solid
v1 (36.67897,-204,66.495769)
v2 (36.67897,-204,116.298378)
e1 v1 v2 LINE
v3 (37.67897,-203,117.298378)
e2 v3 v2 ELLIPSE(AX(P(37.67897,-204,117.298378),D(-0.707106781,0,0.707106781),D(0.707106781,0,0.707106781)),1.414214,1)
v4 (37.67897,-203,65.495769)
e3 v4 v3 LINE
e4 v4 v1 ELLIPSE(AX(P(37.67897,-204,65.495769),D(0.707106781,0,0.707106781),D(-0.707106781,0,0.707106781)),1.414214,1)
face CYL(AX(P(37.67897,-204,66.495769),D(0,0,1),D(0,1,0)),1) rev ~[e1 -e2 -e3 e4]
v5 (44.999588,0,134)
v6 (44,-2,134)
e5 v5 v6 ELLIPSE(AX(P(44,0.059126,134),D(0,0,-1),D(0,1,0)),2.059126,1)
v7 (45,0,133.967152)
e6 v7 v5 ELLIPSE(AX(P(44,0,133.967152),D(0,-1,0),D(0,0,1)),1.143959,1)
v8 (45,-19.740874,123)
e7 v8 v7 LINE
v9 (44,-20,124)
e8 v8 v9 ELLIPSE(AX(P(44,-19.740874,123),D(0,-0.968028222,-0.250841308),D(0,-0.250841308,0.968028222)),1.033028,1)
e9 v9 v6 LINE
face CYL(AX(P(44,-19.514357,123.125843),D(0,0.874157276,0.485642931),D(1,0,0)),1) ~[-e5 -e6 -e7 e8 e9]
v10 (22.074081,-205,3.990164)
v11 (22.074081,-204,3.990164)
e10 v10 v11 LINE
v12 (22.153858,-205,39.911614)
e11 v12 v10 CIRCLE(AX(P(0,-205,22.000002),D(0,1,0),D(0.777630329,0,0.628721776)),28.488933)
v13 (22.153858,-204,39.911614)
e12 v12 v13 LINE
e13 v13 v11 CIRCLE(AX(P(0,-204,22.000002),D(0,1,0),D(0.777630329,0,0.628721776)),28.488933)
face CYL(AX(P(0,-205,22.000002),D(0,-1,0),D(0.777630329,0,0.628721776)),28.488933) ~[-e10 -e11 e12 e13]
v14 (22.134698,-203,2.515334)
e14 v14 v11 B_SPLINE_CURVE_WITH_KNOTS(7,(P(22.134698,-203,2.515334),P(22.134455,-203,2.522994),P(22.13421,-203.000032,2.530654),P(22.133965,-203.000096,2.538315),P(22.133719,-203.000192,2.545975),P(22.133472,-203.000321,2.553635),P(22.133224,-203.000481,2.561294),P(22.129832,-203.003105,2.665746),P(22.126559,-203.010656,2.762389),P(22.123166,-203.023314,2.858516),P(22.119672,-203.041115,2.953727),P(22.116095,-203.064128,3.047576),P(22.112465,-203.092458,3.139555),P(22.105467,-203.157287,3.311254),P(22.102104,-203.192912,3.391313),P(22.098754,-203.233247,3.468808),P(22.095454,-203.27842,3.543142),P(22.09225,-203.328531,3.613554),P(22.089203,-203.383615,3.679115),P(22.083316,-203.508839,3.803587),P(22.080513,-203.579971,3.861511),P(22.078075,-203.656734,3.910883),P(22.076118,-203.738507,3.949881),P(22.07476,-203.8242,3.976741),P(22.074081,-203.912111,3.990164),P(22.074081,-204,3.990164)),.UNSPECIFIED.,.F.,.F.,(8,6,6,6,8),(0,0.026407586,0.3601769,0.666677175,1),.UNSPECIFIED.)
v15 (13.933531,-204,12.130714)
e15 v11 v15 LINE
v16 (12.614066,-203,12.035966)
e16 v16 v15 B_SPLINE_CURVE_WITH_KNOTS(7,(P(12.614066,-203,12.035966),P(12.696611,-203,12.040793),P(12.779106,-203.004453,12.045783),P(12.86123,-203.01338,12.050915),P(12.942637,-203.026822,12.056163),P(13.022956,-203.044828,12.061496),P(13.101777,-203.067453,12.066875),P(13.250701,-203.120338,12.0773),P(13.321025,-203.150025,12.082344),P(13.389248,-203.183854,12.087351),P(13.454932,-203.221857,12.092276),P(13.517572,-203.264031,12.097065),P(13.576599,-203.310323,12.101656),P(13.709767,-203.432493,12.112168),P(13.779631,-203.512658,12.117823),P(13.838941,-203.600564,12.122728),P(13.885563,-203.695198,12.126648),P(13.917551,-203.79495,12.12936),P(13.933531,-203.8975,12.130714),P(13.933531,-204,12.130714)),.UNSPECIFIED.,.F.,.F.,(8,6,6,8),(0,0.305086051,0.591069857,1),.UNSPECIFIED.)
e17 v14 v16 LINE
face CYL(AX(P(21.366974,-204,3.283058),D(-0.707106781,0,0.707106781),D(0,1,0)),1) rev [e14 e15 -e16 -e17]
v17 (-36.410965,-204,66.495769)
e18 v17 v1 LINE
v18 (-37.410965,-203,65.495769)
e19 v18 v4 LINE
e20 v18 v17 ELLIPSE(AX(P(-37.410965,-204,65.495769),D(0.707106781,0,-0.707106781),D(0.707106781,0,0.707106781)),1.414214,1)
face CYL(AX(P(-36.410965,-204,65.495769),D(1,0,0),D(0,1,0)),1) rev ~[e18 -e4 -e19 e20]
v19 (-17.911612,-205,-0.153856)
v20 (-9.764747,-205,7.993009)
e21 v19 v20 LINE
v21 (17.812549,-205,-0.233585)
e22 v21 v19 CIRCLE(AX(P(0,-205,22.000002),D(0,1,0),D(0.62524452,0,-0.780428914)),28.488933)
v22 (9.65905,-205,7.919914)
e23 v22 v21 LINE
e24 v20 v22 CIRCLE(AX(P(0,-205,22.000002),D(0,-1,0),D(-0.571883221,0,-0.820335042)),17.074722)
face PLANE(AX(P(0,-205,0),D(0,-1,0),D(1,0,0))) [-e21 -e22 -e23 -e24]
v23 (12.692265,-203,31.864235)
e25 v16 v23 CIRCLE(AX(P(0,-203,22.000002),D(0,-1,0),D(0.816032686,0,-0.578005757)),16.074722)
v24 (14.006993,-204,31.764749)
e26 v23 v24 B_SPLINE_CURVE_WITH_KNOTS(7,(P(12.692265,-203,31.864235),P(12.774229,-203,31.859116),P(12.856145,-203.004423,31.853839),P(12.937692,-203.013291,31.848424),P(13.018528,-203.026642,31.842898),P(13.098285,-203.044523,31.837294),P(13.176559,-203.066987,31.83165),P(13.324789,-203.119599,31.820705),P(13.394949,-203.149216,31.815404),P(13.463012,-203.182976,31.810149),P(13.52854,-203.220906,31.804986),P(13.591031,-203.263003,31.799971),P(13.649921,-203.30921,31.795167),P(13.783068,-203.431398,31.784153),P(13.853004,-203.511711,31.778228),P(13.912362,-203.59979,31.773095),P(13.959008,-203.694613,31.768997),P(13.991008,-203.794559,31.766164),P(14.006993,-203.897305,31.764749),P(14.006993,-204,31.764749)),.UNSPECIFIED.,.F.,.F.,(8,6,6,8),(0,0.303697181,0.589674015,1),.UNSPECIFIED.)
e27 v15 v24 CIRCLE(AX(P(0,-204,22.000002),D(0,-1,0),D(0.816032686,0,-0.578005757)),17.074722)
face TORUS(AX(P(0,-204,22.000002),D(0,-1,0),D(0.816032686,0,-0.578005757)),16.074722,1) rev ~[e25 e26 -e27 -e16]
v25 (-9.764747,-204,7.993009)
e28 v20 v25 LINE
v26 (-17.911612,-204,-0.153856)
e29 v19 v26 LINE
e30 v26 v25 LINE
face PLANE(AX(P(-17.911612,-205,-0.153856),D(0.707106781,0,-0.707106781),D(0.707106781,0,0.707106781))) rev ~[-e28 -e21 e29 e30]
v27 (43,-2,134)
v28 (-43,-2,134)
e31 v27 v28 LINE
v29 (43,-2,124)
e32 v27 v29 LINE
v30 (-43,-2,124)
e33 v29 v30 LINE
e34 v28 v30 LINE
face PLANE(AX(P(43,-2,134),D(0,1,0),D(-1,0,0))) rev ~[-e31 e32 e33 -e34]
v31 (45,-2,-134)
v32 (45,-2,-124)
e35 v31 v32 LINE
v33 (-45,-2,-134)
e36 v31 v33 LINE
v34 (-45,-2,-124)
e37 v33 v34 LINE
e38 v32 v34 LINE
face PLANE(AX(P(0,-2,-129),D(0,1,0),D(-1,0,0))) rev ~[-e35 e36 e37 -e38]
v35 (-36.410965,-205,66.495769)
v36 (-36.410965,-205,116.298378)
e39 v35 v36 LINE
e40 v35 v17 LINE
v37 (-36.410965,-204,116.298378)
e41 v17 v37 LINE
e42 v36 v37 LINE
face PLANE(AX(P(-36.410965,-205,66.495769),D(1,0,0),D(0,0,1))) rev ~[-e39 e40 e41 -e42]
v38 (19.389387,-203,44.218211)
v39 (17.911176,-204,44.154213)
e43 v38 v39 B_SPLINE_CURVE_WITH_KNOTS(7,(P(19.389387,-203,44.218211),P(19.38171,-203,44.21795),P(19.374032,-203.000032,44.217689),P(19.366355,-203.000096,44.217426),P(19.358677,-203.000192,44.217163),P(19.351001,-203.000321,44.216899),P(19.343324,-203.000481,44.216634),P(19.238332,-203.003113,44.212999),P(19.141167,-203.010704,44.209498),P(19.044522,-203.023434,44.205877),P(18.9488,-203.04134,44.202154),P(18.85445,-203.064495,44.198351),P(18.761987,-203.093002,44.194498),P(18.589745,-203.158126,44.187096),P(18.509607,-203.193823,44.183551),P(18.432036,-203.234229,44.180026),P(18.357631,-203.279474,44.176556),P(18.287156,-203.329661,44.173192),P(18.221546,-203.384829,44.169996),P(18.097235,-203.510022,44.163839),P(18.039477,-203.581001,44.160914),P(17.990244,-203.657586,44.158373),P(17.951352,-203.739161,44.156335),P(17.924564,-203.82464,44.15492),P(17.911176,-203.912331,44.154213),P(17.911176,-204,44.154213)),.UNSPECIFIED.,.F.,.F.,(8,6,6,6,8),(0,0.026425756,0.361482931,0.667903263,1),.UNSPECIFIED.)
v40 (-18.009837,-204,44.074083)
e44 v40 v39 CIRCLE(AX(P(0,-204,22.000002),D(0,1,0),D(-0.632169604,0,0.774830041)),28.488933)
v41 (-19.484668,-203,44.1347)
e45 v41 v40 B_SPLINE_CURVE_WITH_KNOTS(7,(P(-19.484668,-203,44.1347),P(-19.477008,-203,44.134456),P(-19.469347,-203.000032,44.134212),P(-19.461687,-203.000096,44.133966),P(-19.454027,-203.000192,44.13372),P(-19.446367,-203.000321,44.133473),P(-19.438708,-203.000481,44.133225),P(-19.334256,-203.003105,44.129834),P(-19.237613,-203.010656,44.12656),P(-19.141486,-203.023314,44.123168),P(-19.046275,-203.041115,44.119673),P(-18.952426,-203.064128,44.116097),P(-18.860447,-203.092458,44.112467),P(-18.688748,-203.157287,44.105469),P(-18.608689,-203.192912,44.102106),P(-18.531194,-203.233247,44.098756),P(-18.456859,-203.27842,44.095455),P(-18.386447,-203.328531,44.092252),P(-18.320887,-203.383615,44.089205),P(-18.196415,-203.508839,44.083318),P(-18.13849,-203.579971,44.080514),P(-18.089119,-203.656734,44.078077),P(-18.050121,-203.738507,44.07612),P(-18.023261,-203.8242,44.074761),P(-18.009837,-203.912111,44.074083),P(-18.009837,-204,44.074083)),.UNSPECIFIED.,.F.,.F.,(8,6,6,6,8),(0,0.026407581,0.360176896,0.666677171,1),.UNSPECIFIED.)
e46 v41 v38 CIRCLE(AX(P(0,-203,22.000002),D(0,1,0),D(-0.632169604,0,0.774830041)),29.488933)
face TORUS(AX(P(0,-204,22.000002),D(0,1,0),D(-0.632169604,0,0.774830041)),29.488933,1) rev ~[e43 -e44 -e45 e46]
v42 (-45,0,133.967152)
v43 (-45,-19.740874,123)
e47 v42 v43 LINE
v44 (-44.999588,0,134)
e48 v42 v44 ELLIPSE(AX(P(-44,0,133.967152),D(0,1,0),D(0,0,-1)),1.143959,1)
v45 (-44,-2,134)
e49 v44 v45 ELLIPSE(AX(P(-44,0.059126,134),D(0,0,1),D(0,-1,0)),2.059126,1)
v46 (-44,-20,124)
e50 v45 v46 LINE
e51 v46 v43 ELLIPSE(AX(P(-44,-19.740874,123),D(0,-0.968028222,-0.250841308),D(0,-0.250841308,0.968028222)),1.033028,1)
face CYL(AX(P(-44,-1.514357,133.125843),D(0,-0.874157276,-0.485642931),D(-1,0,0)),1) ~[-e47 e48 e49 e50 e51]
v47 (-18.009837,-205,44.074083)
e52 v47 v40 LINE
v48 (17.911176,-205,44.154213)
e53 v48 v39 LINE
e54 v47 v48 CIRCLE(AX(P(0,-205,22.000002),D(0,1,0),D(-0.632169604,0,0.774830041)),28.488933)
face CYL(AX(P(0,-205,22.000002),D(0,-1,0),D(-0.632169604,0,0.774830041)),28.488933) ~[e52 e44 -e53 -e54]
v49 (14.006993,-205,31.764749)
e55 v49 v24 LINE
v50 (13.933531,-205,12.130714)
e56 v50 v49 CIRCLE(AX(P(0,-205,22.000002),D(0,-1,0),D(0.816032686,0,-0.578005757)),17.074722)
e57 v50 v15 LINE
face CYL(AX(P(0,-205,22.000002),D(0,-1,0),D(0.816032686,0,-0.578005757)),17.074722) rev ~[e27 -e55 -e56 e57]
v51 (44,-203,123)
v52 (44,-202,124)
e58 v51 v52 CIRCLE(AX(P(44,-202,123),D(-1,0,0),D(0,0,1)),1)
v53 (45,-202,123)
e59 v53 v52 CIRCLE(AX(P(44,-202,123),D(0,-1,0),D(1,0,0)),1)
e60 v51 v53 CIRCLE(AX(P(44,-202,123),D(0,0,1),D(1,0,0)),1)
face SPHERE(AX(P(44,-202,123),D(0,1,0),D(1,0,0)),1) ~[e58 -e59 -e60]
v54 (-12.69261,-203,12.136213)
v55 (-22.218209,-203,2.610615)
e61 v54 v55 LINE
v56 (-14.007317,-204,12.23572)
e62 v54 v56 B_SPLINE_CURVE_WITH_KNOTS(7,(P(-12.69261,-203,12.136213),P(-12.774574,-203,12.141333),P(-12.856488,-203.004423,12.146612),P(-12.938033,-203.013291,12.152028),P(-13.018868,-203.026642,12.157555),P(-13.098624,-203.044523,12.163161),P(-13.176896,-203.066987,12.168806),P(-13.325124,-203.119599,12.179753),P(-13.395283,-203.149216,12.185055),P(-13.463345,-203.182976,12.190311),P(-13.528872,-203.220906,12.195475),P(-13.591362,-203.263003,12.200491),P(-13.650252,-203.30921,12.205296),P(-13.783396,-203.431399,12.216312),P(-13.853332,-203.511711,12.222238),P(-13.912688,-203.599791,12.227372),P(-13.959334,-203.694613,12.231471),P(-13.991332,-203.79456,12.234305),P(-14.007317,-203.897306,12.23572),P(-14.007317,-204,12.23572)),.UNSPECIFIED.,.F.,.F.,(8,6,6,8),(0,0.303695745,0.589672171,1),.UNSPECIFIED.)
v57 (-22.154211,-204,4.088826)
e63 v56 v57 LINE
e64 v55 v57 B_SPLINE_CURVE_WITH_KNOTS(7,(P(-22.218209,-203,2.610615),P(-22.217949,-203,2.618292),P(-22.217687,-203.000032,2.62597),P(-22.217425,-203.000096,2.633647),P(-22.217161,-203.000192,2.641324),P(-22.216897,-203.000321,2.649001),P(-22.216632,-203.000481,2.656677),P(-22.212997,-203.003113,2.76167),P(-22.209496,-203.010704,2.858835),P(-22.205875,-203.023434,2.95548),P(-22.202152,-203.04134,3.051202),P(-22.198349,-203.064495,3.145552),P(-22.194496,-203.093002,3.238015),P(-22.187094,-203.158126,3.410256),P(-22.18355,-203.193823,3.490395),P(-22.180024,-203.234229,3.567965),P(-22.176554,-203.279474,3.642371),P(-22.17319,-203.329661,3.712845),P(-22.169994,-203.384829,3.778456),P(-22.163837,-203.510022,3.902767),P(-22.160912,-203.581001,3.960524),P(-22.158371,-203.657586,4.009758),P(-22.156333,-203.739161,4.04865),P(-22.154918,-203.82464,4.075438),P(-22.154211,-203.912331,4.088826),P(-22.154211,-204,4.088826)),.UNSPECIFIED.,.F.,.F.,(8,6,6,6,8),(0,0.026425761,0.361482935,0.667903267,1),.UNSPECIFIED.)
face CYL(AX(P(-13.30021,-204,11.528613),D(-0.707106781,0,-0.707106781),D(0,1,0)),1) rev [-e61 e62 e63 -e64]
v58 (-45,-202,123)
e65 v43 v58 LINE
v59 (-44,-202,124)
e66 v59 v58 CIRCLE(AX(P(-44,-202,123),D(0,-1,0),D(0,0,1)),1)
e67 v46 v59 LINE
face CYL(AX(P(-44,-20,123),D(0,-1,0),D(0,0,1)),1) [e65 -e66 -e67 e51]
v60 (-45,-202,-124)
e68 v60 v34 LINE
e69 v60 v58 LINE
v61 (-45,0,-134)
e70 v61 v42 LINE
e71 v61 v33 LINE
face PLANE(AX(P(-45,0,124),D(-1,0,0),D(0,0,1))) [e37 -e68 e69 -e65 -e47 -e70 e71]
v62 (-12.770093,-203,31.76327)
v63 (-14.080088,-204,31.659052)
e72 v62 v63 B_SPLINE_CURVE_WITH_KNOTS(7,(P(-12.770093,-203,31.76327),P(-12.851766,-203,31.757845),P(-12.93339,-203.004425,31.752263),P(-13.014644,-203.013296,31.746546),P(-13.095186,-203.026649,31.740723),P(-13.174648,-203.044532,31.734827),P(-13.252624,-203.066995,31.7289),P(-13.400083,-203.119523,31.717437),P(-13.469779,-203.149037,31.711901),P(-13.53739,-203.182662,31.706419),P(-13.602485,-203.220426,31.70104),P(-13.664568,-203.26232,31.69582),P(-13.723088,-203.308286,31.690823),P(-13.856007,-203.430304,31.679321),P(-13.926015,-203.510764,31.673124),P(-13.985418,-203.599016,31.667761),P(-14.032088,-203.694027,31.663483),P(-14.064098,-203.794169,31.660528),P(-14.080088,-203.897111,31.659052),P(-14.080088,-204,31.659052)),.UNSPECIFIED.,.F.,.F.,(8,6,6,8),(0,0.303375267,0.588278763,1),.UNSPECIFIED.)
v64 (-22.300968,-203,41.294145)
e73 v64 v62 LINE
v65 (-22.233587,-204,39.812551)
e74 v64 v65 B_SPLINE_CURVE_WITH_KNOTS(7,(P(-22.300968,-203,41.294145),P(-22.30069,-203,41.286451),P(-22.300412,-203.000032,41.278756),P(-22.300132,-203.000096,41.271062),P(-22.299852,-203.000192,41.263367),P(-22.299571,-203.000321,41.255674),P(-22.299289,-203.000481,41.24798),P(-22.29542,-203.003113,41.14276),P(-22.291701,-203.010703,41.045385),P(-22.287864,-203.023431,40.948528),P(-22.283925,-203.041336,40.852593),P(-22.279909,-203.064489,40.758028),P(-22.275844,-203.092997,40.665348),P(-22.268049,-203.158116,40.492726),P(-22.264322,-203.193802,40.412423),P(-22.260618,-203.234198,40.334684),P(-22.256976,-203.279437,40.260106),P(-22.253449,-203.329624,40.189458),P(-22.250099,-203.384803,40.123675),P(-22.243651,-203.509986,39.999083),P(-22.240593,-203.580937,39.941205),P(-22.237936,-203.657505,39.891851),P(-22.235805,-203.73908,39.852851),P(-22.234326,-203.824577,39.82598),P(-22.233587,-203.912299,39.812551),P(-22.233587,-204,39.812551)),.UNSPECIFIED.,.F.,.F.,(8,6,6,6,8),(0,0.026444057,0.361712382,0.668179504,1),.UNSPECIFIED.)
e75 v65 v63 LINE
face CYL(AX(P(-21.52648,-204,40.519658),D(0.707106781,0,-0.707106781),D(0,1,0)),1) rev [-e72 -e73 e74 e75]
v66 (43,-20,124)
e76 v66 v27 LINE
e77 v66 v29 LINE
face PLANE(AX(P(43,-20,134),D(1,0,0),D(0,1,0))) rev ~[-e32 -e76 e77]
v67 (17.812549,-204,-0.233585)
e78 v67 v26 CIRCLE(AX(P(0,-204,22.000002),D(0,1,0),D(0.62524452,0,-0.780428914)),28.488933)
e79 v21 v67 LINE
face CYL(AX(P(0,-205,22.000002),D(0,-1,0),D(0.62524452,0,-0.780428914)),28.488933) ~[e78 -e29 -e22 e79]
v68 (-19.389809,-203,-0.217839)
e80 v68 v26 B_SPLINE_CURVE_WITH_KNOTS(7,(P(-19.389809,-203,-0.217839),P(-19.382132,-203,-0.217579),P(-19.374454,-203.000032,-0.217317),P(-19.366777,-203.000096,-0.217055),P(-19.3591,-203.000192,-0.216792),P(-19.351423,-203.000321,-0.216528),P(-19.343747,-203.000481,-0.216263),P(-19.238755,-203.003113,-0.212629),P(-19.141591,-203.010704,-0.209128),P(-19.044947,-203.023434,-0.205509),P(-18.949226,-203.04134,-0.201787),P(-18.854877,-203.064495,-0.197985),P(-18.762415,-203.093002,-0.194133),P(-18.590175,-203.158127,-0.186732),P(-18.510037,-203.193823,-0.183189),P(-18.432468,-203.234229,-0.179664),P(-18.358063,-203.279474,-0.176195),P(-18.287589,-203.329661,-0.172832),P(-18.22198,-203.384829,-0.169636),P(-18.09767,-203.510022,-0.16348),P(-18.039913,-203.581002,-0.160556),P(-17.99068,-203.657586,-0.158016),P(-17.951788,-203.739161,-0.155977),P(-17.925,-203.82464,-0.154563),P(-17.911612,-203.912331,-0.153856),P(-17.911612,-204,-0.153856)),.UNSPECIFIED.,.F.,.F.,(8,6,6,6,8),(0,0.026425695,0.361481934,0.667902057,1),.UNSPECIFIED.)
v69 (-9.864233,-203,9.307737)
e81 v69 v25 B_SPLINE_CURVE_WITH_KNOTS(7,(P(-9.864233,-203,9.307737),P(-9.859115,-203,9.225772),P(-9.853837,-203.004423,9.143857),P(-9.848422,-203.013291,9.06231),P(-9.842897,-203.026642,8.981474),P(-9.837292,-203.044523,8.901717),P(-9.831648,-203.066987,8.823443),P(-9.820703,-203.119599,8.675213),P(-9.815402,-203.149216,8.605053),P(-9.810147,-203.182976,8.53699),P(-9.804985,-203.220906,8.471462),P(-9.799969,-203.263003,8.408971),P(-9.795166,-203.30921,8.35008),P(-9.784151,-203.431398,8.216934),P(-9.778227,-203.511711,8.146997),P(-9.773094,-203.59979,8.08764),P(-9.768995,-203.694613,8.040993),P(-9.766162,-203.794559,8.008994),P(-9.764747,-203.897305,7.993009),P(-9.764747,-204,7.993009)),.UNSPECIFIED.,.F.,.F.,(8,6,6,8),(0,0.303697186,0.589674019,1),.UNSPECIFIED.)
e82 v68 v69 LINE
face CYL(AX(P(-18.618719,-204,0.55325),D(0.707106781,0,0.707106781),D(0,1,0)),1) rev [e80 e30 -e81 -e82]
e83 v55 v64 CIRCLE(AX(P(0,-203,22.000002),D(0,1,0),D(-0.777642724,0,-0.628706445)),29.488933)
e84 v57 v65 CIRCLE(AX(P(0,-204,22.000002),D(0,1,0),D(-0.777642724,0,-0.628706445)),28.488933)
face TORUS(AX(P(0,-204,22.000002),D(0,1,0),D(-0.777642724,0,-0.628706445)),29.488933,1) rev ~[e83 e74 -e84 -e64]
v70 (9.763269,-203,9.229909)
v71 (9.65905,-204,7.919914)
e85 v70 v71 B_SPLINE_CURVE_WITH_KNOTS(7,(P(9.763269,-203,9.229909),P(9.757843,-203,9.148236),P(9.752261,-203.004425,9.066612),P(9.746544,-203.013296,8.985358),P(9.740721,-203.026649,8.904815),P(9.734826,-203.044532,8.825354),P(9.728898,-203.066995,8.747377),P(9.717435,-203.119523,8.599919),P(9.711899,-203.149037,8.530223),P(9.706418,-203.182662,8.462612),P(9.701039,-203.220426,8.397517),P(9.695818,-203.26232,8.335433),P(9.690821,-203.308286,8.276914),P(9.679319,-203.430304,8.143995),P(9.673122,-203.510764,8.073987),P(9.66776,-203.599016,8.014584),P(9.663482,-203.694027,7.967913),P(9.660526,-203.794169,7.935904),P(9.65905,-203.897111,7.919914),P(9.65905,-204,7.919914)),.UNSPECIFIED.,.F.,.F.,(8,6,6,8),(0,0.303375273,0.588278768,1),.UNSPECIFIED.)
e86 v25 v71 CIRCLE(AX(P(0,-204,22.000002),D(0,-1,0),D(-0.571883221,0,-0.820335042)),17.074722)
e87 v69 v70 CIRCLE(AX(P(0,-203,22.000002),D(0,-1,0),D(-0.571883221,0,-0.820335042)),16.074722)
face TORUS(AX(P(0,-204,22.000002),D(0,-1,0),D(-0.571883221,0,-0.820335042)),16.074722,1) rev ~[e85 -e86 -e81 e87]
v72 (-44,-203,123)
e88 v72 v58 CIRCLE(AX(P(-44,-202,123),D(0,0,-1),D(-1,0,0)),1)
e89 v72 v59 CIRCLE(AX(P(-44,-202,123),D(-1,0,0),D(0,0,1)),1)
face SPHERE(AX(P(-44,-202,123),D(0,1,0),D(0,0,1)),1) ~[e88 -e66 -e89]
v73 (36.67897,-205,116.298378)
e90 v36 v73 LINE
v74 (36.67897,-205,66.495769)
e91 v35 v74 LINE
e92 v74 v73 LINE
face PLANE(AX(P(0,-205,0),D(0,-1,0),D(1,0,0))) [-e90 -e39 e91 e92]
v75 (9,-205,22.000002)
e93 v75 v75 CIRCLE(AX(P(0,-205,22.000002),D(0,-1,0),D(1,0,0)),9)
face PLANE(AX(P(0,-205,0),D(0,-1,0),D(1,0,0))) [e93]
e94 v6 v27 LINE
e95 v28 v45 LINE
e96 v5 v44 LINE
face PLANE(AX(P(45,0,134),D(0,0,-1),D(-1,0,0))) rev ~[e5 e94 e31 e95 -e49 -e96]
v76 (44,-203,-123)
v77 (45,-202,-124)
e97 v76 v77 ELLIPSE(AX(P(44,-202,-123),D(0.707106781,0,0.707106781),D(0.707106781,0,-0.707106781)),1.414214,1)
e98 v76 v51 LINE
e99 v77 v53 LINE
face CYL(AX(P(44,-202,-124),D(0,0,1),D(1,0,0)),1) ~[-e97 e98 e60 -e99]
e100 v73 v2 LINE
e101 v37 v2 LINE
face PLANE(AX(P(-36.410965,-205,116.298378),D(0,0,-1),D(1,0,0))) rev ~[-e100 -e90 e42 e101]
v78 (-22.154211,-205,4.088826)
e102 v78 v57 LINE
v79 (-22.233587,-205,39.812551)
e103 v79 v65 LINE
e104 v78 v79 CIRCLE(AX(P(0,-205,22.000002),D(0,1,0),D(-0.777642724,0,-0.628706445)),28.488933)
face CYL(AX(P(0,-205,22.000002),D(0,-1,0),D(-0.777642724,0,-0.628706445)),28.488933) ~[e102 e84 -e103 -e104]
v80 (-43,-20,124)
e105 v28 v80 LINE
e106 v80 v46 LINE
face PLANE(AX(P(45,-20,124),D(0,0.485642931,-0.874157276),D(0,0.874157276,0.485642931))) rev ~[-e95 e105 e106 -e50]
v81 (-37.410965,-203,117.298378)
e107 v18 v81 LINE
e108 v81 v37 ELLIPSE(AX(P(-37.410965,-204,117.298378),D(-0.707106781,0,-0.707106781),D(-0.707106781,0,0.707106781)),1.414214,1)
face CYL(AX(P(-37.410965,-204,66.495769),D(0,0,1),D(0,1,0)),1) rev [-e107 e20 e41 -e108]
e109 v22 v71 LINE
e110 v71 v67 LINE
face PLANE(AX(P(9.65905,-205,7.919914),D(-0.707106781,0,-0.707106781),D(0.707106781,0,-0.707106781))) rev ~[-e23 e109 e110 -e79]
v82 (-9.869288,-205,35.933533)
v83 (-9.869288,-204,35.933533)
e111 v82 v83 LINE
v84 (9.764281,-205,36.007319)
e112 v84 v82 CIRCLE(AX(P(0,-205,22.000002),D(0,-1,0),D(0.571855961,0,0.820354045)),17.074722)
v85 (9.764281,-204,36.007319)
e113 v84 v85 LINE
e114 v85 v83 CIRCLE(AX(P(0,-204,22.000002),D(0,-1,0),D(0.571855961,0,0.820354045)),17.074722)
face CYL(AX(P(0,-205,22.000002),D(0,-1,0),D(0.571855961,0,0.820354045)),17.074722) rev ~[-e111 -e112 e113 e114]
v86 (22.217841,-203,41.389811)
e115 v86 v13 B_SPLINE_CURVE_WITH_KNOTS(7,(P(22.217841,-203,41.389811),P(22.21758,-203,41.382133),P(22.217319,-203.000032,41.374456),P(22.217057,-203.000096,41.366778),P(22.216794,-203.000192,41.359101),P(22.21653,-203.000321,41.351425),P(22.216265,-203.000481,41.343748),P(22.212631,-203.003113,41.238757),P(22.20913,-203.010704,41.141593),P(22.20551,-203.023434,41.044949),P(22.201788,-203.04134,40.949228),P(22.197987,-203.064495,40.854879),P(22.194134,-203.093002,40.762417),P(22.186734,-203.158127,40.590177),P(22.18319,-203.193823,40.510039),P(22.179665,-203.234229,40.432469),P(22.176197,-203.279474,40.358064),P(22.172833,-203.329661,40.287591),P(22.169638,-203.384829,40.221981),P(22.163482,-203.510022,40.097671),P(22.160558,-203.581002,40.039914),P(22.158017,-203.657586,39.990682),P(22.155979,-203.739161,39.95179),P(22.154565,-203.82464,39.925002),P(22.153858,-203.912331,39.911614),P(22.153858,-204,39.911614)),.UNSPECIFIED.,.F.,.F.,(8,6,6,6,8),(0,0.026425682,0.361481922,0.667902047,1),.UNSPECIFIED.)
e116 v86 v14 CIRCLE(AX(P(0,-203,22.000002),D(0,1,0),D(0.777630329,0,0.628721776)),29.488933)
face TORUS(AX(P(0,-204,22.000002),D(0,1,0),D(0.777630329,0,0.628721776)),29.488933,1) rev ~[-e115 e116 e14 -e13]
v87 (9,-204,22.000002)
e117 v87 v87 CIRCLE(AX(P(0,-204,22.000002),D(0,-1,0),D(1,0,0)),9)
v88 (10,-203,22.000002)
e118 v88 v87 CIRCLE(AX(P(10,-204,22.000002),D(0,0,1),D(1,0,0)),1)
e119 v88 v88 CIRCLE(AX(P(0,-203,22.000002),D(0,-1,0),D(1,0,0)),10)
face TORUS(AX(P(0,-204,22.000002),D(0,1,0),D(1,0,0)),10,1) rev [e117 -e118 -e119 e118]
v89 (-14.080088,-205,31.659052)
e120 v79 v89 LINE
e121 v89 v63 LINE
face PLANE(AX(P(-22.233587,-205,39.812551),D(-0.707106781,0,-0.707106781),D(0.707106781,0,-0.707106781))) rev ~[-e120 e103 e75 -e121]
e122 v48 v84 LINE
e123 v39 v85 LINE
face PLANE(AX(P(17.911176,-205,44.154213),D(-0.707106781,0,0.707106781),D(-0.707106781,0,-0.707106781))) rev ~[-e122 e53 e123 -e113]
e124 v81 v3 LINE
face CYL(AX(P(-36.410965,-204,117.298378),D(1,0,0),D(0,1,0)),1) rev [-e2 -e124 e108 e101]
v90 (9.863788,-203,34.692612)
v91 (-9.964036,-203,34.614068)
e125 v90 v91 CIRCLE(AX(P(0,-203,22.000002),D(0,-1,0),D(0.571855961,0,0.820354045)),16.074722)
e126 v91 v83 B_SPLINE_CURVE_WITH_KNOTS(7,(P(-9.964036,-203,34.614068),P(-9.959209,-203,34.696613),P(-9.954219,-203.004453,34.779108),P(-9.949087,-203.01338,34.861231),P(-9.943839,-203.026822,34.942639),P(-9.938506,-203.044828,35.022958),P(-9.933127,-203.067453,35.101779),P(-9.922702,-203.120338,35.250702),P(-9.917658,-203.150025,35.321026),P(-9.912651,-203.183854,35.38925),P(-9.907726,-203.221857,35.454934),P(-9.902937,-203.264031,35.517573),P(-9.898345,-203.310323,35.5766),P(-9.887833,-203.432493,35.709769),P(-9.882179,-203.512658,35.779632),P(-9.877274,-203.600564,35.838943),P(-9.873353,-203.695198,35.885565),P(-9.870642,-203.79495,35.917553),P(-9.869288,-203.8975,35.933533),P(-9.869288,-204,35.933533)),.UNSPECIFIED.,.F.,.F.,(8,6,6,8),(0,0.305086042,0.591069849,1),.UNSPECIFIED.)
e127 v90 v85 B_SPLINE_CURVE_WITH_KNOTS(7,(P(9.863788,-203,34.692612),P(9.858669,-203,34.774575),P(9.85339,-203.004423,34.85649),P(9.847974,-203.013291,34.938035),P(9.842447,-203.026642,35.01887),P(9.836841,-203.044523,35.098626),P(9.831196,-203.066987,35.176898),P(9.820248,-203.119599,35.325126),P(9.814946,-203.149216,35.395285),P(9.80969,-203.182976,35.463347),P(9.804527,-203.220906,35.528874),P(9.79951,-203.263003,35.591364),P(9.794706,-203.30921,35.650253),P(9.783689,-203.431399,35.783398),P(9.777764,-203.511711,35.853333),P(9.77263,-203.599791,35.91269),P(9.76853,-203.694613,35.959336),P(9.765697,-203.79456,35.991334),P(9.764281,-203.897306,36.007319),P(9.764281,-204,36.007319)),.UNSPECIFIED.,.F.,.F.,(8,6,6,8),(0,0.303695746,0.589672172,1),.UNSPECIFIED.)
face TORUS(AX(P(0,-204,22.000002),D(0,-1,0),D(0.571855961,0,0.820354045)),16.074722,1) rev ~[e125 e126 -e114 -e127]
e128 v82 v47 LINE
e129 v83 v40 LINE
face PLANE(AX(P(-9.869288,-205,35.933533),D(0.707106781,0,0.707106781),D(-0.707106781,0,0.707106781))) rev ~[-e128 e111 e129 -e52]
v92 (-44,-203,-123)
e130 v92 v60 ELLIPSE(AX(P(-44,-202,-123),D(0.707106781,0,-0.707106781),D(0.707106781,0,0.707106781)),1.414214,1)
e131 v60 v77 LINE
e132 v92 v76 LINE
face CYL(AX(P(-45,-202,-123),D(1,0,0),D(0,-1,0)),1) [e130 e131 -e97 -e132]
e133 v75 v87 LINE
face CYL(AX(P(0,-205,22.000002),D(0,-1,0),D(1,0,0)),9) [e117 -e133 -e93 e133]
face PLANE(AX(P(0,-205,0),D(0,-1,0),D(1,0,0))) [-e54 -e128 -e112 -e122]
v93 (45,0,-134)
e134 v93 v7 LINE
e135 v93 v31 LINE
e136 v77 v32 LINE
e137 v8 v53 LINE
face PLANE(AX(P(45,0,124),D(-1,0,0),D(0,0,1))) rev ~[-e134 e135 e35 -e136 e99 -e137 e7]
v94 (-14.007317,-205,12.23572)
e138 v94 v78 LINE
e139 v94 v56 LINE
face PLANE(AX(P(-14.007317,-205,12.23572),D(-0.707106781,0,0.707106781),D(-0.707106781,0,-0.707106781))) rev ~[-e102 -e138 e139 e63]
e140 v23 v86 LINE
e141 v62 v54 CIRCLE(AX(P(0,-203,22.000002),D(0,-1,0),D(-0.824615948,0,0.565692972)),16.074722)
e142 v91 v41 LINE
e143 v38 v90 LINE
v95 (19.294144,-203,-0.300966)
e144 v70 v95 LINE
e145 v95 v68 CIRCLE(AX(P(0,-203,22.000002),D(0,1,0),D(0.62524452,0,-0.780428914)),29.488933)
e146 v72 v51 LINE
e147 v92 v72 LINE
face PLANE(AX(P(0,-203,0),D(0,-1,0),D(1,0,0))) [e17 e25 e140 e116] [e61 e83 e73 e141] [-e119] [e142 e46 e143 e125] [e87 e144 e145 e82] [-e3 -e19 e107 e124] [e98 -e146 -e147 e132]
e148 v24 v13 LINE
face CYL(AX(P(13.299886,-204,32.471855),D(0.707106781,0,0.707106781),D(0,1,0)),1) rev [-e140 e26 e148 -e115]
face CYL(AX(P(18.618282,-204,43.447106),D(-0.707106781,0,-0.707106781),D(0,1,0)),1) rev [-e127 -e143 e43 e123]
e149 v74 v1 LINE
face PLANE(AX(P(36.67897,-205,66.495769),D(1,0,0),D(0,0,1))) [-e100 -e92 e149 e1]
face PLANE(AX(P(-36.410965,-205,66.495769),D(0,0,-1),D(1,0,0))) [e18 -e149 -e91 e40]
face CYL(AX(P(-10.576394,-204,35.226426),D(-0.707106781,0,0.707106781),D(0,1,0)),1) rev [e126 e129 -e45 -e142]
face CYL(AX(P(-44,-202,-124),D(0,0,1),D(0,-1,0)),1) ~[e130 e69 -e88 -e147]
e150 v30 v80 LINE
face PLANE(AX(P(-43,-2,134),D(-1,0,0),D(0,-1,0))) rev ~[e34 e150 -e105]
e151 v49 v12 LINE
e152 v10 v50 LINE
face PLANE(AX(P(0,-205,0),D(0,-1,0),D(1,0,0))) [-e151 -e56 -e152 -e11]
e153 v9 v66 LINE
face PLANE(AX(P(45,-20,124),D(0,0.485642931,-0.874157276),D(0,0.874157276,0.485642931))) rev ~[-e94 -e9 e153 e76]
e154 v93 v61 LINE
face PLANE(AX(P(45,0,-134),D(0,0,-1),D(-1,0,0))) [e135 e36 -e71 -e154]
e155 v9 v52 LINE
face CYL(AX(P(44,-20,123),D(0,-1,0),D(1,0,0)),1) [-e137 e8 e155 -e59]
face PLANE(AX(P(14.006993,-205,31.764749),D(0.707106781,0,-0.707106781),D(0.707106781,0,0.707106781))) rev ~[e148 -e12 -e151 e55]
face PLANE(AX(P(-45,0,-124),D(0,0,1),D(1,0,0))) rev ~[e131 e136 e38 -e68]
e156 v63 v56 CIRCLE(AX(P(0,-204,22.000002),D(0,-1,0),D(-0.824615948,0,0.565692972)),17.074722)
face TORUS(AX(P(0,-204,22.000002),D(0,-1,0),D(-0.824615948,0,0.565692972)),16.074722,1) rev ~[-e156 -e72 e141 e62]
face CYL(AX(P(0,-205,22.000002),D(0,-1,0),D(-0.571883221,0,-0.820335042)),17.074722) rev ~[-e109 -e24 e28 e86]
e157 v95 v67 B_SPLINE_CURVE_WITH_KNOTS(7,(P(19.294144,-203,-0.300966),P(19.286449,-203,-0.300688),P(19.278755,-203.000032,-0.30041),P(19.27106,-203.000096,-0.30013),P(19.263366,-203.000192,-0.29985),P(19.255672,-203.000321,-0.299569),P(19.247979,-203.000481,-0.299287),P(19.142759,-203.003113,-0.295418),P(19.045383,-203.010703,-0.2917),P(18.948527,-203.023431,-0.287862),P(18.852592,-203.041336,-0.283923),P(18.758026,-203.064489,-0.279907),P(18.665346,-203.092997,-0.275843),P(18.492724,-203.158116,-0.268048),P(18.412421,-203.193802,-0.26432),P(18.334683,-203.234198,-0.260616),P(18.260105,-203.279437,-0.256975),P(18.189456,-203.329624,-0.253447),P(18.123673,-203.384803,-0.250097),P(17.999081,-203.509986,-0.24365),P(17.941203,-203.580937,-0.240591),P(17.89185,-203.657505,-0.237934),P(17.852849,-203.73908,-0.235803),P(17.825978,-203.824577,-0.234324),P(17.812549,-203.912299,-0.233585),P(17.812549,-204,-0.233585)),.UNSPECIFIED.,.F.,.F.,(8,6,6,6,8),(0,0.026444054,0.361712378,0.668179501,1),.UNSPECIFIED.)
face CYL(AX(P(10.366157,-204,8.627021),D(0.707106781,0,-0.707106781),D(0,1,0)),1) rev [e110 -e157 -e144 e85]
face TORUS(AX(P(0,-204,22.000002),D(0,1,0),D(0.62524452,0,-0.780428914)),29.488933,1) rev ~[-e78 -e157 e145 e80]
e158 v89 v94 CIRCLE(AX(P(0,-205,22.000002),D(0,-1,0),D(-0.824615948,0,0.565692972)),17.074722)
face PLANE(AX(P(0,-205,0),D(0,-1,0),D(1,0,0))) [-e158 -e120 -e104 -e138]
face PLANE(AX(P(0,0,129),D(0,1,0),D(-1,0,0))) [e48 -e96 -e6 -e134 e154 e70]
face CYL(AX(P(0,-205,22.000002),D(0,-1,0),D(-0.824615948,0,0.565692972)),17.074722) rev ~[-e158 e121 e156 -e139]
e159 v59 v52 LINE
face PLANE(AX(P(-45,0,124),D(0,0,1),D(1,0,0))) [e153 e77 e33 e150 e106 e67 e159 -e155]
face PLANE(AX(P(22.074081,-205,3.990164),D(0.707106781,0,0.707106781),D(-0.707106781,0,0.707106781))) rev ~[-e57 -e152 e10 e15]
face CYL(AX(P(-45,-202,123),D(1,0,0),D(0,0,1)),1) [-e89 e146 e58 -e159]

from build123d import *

# Parameters (mm, degrees)
F0_W      = 90
F0_H      = 248
F1_DEPTH  = 205
F2_W      = 90
F2_H      = 248
F2_R      = 9
F2_W_2    = 73.0899348855
F2_H_2    = 49.802608788
F3_DEPTH  = 2
F4_W      = 90
F4_H      = 10
F5_DEPTH  = 20
F7_DEPTH  = 10
F9_DEPTH  = 90.001
F10_R     = 1
F11_DEPTH = 18


with BuildPart() as f1:
    # F0 (on Front) → F1 (new body)
    with BuildSketch(Plane.XZ):
        Rectangle(F0_W, F0_H)
    extrude(amount=F1_DEPTH)

    # F2 (on face) → F3 (cut)
    with BuildSketch(Plane.XZ.offset(205)):
        Rectangle(F2_W, F2_H)
        with BuildLine():
            ThreePointArc((-22.1542112523, 4.0888261413), (-28.4888623982, 21.9367015102), (-22.2335868368, 39.8125508039))
            Line((-22.2335868368, 39.8125508039), (-14.0800879143, 31.6590518814))
            ThreePointArc((-14.0800879143, 31.6590518814), (-17.0746019847, 21.9360306146), (-14.0073171141, 12.2357202795))
            Line((-14.0073171141, 12.2357202795), (-22.1542112523, 4.0888261413))
        make_face(mode=Mode.SUBTRACT)
        with BuildLine():
            Line((9.659050138, 7.9199138292), (17.8125490605, -0.2335850934))
            ThreePointArc((17.8125490605, -0.2335850934), (-0.0635810751, -6.4888600293), (-17.9116123889, -0.1538563696))
            Line((-17.9116123889, -0.1538563696), (-9.7647469179, 7.9930091015))
            ThreePointArc((-9.7647469179, 7.9930091015), (-0.0642548211, 4.9254008239), (9.659050138, 7.9199138292))
        make_face(mode=Mode.SUBTRACT)
        with BuildLine():
            ThreePointArc((-18.0098373075, 44.0740826489), (-0.0635511695, 50.4888635829), (17.9111756021, 44.1542129957))
            Line((17.9111756021, 44.1542129957), (9.7642814639, 36.0073188576))
            ThreePointArc((9.7642814639, 36.0073188576), (-0.0641690046, 39.0746029857), (-9.8692875132, 35.9335328546))
            Line((-9.8692875132, 35.9335328546), (-18.0098373075, 44.0740826489))
        make_face(mode=Mode.SUBTRACT)
        with Locations((0, 22.0000017434)):
            Circle(F2_R, mode=Mode.SUBTRACT)
        with BuildLine():
            ThreePointArc((22.153858113, 39.9116141324), (28.4888624646, 21.9367314157), (22.0740809054, 3.990164436))
            Line((22.0740809054, 3.990164436), (13.9335311111, 12.1307142303))
            ThreePointArc((13.9335311111, 12.1307142303), (17.074602306, 21.936116431), (14.006992642, 31.7647486613))
            Line((14.006992642, 31.7647486613), (22.153858113, 39.9116141324))
        make_face(mode=Mode.SUBTRACT)
        with Locations((0.1340024173, 91.3970731199)):
            Rectangle(F2_W_2, F2_H_2, mode=Mode.SUBTRACT)
    extrude(amount=-F3_DEPTH, mode=Mode.SUBTRACT)

    # F4 (on face) → F5 (join)
    with BuildSketch(Plane(origin=(0, 0, 0), x_dir=(-1, 0, 0), z_dir=(0, 1, 0))):
        with Locations((0, 129)):
            Rectangle(F4_W, F4_H)
        with Locations((0, -129)):
            Rectangle(F4_W, F4_H)
    extrude(amount=-F5_DEPTH)

    # F6 (on face) → F7 (cut, through all)
    with BuildSketch(Plane.XY.offset(134)):
        Polygon((43, -2), (-43, -2), (-43, -20), (43, -20), (43, -18), align=None)
    extrude(amount=-F7_DEPTH, mode=Mode.SUBTRACT)

    # F8 (on face) → F9 (cut, through all)
    with BuildSketch(Plane.YZ.offset(45)):
        Polygon((-20, 134), (-20, 124), (-2, 134), align=None)
    extrude(amount=-F9_DEPTH, mode=Mode.SUBTRACT)

    # F10
    f10_edges = [f1.edges().sort_by_distance(p)[0] for p in [
        (-45, -111.5, 124),
        (-45, -11, 129),
        (45, -11, 129),
        (45, -111.5, 124),
        (0, -203, -124),
        (45, -203, 0),
        (0, -203, 124),
        (-45, -203, 0),
        (-18.156837, -203, 35.735801),
        (-17.074602, -203, 21.936031),
        (-18.080764, -203, 8.162273),
        (-28.488862, -203, 21.936702),
        (-0.064255, -203, 4.925401),
        (13.7358, -203, 3.843164),
        (-0.063581, -203, -6.48886),
        (-13.83818, -203, 3.919576),
        (-0.064169, -203, 39.074603),
        (-13.939562, -203, 40.003808),
        (-0.063551, -203, 50.488864),
        (13.837729, -203, 40.080766),
        (-9, -203, 22.000002),
        (28.488862, -203, 21.936731),
        (18.003806, -203, 8.060439),
        (17.074602, -203, 21.936116),
        (18.080425, -203, 35.838181),
        (-36.410965, -203, 91.397073),
        (0.134002, -203, 116.298378),
        (36.67897, -203, 91.397073),
        (0.134002, -203, 66.495769),
    ]]
    fillet(f10_edges, radius=F10_R)

    # F11 (cut): a face of the model
    f11_faces = [f1.faces().sort_by_distance(p)[0] for p in [
        (0, -20, -129),
    ]]
    extrude(f11_faces, amount=-F11_DEPTH, mode=Mode.SUBTRACT)


solid = f1.part
